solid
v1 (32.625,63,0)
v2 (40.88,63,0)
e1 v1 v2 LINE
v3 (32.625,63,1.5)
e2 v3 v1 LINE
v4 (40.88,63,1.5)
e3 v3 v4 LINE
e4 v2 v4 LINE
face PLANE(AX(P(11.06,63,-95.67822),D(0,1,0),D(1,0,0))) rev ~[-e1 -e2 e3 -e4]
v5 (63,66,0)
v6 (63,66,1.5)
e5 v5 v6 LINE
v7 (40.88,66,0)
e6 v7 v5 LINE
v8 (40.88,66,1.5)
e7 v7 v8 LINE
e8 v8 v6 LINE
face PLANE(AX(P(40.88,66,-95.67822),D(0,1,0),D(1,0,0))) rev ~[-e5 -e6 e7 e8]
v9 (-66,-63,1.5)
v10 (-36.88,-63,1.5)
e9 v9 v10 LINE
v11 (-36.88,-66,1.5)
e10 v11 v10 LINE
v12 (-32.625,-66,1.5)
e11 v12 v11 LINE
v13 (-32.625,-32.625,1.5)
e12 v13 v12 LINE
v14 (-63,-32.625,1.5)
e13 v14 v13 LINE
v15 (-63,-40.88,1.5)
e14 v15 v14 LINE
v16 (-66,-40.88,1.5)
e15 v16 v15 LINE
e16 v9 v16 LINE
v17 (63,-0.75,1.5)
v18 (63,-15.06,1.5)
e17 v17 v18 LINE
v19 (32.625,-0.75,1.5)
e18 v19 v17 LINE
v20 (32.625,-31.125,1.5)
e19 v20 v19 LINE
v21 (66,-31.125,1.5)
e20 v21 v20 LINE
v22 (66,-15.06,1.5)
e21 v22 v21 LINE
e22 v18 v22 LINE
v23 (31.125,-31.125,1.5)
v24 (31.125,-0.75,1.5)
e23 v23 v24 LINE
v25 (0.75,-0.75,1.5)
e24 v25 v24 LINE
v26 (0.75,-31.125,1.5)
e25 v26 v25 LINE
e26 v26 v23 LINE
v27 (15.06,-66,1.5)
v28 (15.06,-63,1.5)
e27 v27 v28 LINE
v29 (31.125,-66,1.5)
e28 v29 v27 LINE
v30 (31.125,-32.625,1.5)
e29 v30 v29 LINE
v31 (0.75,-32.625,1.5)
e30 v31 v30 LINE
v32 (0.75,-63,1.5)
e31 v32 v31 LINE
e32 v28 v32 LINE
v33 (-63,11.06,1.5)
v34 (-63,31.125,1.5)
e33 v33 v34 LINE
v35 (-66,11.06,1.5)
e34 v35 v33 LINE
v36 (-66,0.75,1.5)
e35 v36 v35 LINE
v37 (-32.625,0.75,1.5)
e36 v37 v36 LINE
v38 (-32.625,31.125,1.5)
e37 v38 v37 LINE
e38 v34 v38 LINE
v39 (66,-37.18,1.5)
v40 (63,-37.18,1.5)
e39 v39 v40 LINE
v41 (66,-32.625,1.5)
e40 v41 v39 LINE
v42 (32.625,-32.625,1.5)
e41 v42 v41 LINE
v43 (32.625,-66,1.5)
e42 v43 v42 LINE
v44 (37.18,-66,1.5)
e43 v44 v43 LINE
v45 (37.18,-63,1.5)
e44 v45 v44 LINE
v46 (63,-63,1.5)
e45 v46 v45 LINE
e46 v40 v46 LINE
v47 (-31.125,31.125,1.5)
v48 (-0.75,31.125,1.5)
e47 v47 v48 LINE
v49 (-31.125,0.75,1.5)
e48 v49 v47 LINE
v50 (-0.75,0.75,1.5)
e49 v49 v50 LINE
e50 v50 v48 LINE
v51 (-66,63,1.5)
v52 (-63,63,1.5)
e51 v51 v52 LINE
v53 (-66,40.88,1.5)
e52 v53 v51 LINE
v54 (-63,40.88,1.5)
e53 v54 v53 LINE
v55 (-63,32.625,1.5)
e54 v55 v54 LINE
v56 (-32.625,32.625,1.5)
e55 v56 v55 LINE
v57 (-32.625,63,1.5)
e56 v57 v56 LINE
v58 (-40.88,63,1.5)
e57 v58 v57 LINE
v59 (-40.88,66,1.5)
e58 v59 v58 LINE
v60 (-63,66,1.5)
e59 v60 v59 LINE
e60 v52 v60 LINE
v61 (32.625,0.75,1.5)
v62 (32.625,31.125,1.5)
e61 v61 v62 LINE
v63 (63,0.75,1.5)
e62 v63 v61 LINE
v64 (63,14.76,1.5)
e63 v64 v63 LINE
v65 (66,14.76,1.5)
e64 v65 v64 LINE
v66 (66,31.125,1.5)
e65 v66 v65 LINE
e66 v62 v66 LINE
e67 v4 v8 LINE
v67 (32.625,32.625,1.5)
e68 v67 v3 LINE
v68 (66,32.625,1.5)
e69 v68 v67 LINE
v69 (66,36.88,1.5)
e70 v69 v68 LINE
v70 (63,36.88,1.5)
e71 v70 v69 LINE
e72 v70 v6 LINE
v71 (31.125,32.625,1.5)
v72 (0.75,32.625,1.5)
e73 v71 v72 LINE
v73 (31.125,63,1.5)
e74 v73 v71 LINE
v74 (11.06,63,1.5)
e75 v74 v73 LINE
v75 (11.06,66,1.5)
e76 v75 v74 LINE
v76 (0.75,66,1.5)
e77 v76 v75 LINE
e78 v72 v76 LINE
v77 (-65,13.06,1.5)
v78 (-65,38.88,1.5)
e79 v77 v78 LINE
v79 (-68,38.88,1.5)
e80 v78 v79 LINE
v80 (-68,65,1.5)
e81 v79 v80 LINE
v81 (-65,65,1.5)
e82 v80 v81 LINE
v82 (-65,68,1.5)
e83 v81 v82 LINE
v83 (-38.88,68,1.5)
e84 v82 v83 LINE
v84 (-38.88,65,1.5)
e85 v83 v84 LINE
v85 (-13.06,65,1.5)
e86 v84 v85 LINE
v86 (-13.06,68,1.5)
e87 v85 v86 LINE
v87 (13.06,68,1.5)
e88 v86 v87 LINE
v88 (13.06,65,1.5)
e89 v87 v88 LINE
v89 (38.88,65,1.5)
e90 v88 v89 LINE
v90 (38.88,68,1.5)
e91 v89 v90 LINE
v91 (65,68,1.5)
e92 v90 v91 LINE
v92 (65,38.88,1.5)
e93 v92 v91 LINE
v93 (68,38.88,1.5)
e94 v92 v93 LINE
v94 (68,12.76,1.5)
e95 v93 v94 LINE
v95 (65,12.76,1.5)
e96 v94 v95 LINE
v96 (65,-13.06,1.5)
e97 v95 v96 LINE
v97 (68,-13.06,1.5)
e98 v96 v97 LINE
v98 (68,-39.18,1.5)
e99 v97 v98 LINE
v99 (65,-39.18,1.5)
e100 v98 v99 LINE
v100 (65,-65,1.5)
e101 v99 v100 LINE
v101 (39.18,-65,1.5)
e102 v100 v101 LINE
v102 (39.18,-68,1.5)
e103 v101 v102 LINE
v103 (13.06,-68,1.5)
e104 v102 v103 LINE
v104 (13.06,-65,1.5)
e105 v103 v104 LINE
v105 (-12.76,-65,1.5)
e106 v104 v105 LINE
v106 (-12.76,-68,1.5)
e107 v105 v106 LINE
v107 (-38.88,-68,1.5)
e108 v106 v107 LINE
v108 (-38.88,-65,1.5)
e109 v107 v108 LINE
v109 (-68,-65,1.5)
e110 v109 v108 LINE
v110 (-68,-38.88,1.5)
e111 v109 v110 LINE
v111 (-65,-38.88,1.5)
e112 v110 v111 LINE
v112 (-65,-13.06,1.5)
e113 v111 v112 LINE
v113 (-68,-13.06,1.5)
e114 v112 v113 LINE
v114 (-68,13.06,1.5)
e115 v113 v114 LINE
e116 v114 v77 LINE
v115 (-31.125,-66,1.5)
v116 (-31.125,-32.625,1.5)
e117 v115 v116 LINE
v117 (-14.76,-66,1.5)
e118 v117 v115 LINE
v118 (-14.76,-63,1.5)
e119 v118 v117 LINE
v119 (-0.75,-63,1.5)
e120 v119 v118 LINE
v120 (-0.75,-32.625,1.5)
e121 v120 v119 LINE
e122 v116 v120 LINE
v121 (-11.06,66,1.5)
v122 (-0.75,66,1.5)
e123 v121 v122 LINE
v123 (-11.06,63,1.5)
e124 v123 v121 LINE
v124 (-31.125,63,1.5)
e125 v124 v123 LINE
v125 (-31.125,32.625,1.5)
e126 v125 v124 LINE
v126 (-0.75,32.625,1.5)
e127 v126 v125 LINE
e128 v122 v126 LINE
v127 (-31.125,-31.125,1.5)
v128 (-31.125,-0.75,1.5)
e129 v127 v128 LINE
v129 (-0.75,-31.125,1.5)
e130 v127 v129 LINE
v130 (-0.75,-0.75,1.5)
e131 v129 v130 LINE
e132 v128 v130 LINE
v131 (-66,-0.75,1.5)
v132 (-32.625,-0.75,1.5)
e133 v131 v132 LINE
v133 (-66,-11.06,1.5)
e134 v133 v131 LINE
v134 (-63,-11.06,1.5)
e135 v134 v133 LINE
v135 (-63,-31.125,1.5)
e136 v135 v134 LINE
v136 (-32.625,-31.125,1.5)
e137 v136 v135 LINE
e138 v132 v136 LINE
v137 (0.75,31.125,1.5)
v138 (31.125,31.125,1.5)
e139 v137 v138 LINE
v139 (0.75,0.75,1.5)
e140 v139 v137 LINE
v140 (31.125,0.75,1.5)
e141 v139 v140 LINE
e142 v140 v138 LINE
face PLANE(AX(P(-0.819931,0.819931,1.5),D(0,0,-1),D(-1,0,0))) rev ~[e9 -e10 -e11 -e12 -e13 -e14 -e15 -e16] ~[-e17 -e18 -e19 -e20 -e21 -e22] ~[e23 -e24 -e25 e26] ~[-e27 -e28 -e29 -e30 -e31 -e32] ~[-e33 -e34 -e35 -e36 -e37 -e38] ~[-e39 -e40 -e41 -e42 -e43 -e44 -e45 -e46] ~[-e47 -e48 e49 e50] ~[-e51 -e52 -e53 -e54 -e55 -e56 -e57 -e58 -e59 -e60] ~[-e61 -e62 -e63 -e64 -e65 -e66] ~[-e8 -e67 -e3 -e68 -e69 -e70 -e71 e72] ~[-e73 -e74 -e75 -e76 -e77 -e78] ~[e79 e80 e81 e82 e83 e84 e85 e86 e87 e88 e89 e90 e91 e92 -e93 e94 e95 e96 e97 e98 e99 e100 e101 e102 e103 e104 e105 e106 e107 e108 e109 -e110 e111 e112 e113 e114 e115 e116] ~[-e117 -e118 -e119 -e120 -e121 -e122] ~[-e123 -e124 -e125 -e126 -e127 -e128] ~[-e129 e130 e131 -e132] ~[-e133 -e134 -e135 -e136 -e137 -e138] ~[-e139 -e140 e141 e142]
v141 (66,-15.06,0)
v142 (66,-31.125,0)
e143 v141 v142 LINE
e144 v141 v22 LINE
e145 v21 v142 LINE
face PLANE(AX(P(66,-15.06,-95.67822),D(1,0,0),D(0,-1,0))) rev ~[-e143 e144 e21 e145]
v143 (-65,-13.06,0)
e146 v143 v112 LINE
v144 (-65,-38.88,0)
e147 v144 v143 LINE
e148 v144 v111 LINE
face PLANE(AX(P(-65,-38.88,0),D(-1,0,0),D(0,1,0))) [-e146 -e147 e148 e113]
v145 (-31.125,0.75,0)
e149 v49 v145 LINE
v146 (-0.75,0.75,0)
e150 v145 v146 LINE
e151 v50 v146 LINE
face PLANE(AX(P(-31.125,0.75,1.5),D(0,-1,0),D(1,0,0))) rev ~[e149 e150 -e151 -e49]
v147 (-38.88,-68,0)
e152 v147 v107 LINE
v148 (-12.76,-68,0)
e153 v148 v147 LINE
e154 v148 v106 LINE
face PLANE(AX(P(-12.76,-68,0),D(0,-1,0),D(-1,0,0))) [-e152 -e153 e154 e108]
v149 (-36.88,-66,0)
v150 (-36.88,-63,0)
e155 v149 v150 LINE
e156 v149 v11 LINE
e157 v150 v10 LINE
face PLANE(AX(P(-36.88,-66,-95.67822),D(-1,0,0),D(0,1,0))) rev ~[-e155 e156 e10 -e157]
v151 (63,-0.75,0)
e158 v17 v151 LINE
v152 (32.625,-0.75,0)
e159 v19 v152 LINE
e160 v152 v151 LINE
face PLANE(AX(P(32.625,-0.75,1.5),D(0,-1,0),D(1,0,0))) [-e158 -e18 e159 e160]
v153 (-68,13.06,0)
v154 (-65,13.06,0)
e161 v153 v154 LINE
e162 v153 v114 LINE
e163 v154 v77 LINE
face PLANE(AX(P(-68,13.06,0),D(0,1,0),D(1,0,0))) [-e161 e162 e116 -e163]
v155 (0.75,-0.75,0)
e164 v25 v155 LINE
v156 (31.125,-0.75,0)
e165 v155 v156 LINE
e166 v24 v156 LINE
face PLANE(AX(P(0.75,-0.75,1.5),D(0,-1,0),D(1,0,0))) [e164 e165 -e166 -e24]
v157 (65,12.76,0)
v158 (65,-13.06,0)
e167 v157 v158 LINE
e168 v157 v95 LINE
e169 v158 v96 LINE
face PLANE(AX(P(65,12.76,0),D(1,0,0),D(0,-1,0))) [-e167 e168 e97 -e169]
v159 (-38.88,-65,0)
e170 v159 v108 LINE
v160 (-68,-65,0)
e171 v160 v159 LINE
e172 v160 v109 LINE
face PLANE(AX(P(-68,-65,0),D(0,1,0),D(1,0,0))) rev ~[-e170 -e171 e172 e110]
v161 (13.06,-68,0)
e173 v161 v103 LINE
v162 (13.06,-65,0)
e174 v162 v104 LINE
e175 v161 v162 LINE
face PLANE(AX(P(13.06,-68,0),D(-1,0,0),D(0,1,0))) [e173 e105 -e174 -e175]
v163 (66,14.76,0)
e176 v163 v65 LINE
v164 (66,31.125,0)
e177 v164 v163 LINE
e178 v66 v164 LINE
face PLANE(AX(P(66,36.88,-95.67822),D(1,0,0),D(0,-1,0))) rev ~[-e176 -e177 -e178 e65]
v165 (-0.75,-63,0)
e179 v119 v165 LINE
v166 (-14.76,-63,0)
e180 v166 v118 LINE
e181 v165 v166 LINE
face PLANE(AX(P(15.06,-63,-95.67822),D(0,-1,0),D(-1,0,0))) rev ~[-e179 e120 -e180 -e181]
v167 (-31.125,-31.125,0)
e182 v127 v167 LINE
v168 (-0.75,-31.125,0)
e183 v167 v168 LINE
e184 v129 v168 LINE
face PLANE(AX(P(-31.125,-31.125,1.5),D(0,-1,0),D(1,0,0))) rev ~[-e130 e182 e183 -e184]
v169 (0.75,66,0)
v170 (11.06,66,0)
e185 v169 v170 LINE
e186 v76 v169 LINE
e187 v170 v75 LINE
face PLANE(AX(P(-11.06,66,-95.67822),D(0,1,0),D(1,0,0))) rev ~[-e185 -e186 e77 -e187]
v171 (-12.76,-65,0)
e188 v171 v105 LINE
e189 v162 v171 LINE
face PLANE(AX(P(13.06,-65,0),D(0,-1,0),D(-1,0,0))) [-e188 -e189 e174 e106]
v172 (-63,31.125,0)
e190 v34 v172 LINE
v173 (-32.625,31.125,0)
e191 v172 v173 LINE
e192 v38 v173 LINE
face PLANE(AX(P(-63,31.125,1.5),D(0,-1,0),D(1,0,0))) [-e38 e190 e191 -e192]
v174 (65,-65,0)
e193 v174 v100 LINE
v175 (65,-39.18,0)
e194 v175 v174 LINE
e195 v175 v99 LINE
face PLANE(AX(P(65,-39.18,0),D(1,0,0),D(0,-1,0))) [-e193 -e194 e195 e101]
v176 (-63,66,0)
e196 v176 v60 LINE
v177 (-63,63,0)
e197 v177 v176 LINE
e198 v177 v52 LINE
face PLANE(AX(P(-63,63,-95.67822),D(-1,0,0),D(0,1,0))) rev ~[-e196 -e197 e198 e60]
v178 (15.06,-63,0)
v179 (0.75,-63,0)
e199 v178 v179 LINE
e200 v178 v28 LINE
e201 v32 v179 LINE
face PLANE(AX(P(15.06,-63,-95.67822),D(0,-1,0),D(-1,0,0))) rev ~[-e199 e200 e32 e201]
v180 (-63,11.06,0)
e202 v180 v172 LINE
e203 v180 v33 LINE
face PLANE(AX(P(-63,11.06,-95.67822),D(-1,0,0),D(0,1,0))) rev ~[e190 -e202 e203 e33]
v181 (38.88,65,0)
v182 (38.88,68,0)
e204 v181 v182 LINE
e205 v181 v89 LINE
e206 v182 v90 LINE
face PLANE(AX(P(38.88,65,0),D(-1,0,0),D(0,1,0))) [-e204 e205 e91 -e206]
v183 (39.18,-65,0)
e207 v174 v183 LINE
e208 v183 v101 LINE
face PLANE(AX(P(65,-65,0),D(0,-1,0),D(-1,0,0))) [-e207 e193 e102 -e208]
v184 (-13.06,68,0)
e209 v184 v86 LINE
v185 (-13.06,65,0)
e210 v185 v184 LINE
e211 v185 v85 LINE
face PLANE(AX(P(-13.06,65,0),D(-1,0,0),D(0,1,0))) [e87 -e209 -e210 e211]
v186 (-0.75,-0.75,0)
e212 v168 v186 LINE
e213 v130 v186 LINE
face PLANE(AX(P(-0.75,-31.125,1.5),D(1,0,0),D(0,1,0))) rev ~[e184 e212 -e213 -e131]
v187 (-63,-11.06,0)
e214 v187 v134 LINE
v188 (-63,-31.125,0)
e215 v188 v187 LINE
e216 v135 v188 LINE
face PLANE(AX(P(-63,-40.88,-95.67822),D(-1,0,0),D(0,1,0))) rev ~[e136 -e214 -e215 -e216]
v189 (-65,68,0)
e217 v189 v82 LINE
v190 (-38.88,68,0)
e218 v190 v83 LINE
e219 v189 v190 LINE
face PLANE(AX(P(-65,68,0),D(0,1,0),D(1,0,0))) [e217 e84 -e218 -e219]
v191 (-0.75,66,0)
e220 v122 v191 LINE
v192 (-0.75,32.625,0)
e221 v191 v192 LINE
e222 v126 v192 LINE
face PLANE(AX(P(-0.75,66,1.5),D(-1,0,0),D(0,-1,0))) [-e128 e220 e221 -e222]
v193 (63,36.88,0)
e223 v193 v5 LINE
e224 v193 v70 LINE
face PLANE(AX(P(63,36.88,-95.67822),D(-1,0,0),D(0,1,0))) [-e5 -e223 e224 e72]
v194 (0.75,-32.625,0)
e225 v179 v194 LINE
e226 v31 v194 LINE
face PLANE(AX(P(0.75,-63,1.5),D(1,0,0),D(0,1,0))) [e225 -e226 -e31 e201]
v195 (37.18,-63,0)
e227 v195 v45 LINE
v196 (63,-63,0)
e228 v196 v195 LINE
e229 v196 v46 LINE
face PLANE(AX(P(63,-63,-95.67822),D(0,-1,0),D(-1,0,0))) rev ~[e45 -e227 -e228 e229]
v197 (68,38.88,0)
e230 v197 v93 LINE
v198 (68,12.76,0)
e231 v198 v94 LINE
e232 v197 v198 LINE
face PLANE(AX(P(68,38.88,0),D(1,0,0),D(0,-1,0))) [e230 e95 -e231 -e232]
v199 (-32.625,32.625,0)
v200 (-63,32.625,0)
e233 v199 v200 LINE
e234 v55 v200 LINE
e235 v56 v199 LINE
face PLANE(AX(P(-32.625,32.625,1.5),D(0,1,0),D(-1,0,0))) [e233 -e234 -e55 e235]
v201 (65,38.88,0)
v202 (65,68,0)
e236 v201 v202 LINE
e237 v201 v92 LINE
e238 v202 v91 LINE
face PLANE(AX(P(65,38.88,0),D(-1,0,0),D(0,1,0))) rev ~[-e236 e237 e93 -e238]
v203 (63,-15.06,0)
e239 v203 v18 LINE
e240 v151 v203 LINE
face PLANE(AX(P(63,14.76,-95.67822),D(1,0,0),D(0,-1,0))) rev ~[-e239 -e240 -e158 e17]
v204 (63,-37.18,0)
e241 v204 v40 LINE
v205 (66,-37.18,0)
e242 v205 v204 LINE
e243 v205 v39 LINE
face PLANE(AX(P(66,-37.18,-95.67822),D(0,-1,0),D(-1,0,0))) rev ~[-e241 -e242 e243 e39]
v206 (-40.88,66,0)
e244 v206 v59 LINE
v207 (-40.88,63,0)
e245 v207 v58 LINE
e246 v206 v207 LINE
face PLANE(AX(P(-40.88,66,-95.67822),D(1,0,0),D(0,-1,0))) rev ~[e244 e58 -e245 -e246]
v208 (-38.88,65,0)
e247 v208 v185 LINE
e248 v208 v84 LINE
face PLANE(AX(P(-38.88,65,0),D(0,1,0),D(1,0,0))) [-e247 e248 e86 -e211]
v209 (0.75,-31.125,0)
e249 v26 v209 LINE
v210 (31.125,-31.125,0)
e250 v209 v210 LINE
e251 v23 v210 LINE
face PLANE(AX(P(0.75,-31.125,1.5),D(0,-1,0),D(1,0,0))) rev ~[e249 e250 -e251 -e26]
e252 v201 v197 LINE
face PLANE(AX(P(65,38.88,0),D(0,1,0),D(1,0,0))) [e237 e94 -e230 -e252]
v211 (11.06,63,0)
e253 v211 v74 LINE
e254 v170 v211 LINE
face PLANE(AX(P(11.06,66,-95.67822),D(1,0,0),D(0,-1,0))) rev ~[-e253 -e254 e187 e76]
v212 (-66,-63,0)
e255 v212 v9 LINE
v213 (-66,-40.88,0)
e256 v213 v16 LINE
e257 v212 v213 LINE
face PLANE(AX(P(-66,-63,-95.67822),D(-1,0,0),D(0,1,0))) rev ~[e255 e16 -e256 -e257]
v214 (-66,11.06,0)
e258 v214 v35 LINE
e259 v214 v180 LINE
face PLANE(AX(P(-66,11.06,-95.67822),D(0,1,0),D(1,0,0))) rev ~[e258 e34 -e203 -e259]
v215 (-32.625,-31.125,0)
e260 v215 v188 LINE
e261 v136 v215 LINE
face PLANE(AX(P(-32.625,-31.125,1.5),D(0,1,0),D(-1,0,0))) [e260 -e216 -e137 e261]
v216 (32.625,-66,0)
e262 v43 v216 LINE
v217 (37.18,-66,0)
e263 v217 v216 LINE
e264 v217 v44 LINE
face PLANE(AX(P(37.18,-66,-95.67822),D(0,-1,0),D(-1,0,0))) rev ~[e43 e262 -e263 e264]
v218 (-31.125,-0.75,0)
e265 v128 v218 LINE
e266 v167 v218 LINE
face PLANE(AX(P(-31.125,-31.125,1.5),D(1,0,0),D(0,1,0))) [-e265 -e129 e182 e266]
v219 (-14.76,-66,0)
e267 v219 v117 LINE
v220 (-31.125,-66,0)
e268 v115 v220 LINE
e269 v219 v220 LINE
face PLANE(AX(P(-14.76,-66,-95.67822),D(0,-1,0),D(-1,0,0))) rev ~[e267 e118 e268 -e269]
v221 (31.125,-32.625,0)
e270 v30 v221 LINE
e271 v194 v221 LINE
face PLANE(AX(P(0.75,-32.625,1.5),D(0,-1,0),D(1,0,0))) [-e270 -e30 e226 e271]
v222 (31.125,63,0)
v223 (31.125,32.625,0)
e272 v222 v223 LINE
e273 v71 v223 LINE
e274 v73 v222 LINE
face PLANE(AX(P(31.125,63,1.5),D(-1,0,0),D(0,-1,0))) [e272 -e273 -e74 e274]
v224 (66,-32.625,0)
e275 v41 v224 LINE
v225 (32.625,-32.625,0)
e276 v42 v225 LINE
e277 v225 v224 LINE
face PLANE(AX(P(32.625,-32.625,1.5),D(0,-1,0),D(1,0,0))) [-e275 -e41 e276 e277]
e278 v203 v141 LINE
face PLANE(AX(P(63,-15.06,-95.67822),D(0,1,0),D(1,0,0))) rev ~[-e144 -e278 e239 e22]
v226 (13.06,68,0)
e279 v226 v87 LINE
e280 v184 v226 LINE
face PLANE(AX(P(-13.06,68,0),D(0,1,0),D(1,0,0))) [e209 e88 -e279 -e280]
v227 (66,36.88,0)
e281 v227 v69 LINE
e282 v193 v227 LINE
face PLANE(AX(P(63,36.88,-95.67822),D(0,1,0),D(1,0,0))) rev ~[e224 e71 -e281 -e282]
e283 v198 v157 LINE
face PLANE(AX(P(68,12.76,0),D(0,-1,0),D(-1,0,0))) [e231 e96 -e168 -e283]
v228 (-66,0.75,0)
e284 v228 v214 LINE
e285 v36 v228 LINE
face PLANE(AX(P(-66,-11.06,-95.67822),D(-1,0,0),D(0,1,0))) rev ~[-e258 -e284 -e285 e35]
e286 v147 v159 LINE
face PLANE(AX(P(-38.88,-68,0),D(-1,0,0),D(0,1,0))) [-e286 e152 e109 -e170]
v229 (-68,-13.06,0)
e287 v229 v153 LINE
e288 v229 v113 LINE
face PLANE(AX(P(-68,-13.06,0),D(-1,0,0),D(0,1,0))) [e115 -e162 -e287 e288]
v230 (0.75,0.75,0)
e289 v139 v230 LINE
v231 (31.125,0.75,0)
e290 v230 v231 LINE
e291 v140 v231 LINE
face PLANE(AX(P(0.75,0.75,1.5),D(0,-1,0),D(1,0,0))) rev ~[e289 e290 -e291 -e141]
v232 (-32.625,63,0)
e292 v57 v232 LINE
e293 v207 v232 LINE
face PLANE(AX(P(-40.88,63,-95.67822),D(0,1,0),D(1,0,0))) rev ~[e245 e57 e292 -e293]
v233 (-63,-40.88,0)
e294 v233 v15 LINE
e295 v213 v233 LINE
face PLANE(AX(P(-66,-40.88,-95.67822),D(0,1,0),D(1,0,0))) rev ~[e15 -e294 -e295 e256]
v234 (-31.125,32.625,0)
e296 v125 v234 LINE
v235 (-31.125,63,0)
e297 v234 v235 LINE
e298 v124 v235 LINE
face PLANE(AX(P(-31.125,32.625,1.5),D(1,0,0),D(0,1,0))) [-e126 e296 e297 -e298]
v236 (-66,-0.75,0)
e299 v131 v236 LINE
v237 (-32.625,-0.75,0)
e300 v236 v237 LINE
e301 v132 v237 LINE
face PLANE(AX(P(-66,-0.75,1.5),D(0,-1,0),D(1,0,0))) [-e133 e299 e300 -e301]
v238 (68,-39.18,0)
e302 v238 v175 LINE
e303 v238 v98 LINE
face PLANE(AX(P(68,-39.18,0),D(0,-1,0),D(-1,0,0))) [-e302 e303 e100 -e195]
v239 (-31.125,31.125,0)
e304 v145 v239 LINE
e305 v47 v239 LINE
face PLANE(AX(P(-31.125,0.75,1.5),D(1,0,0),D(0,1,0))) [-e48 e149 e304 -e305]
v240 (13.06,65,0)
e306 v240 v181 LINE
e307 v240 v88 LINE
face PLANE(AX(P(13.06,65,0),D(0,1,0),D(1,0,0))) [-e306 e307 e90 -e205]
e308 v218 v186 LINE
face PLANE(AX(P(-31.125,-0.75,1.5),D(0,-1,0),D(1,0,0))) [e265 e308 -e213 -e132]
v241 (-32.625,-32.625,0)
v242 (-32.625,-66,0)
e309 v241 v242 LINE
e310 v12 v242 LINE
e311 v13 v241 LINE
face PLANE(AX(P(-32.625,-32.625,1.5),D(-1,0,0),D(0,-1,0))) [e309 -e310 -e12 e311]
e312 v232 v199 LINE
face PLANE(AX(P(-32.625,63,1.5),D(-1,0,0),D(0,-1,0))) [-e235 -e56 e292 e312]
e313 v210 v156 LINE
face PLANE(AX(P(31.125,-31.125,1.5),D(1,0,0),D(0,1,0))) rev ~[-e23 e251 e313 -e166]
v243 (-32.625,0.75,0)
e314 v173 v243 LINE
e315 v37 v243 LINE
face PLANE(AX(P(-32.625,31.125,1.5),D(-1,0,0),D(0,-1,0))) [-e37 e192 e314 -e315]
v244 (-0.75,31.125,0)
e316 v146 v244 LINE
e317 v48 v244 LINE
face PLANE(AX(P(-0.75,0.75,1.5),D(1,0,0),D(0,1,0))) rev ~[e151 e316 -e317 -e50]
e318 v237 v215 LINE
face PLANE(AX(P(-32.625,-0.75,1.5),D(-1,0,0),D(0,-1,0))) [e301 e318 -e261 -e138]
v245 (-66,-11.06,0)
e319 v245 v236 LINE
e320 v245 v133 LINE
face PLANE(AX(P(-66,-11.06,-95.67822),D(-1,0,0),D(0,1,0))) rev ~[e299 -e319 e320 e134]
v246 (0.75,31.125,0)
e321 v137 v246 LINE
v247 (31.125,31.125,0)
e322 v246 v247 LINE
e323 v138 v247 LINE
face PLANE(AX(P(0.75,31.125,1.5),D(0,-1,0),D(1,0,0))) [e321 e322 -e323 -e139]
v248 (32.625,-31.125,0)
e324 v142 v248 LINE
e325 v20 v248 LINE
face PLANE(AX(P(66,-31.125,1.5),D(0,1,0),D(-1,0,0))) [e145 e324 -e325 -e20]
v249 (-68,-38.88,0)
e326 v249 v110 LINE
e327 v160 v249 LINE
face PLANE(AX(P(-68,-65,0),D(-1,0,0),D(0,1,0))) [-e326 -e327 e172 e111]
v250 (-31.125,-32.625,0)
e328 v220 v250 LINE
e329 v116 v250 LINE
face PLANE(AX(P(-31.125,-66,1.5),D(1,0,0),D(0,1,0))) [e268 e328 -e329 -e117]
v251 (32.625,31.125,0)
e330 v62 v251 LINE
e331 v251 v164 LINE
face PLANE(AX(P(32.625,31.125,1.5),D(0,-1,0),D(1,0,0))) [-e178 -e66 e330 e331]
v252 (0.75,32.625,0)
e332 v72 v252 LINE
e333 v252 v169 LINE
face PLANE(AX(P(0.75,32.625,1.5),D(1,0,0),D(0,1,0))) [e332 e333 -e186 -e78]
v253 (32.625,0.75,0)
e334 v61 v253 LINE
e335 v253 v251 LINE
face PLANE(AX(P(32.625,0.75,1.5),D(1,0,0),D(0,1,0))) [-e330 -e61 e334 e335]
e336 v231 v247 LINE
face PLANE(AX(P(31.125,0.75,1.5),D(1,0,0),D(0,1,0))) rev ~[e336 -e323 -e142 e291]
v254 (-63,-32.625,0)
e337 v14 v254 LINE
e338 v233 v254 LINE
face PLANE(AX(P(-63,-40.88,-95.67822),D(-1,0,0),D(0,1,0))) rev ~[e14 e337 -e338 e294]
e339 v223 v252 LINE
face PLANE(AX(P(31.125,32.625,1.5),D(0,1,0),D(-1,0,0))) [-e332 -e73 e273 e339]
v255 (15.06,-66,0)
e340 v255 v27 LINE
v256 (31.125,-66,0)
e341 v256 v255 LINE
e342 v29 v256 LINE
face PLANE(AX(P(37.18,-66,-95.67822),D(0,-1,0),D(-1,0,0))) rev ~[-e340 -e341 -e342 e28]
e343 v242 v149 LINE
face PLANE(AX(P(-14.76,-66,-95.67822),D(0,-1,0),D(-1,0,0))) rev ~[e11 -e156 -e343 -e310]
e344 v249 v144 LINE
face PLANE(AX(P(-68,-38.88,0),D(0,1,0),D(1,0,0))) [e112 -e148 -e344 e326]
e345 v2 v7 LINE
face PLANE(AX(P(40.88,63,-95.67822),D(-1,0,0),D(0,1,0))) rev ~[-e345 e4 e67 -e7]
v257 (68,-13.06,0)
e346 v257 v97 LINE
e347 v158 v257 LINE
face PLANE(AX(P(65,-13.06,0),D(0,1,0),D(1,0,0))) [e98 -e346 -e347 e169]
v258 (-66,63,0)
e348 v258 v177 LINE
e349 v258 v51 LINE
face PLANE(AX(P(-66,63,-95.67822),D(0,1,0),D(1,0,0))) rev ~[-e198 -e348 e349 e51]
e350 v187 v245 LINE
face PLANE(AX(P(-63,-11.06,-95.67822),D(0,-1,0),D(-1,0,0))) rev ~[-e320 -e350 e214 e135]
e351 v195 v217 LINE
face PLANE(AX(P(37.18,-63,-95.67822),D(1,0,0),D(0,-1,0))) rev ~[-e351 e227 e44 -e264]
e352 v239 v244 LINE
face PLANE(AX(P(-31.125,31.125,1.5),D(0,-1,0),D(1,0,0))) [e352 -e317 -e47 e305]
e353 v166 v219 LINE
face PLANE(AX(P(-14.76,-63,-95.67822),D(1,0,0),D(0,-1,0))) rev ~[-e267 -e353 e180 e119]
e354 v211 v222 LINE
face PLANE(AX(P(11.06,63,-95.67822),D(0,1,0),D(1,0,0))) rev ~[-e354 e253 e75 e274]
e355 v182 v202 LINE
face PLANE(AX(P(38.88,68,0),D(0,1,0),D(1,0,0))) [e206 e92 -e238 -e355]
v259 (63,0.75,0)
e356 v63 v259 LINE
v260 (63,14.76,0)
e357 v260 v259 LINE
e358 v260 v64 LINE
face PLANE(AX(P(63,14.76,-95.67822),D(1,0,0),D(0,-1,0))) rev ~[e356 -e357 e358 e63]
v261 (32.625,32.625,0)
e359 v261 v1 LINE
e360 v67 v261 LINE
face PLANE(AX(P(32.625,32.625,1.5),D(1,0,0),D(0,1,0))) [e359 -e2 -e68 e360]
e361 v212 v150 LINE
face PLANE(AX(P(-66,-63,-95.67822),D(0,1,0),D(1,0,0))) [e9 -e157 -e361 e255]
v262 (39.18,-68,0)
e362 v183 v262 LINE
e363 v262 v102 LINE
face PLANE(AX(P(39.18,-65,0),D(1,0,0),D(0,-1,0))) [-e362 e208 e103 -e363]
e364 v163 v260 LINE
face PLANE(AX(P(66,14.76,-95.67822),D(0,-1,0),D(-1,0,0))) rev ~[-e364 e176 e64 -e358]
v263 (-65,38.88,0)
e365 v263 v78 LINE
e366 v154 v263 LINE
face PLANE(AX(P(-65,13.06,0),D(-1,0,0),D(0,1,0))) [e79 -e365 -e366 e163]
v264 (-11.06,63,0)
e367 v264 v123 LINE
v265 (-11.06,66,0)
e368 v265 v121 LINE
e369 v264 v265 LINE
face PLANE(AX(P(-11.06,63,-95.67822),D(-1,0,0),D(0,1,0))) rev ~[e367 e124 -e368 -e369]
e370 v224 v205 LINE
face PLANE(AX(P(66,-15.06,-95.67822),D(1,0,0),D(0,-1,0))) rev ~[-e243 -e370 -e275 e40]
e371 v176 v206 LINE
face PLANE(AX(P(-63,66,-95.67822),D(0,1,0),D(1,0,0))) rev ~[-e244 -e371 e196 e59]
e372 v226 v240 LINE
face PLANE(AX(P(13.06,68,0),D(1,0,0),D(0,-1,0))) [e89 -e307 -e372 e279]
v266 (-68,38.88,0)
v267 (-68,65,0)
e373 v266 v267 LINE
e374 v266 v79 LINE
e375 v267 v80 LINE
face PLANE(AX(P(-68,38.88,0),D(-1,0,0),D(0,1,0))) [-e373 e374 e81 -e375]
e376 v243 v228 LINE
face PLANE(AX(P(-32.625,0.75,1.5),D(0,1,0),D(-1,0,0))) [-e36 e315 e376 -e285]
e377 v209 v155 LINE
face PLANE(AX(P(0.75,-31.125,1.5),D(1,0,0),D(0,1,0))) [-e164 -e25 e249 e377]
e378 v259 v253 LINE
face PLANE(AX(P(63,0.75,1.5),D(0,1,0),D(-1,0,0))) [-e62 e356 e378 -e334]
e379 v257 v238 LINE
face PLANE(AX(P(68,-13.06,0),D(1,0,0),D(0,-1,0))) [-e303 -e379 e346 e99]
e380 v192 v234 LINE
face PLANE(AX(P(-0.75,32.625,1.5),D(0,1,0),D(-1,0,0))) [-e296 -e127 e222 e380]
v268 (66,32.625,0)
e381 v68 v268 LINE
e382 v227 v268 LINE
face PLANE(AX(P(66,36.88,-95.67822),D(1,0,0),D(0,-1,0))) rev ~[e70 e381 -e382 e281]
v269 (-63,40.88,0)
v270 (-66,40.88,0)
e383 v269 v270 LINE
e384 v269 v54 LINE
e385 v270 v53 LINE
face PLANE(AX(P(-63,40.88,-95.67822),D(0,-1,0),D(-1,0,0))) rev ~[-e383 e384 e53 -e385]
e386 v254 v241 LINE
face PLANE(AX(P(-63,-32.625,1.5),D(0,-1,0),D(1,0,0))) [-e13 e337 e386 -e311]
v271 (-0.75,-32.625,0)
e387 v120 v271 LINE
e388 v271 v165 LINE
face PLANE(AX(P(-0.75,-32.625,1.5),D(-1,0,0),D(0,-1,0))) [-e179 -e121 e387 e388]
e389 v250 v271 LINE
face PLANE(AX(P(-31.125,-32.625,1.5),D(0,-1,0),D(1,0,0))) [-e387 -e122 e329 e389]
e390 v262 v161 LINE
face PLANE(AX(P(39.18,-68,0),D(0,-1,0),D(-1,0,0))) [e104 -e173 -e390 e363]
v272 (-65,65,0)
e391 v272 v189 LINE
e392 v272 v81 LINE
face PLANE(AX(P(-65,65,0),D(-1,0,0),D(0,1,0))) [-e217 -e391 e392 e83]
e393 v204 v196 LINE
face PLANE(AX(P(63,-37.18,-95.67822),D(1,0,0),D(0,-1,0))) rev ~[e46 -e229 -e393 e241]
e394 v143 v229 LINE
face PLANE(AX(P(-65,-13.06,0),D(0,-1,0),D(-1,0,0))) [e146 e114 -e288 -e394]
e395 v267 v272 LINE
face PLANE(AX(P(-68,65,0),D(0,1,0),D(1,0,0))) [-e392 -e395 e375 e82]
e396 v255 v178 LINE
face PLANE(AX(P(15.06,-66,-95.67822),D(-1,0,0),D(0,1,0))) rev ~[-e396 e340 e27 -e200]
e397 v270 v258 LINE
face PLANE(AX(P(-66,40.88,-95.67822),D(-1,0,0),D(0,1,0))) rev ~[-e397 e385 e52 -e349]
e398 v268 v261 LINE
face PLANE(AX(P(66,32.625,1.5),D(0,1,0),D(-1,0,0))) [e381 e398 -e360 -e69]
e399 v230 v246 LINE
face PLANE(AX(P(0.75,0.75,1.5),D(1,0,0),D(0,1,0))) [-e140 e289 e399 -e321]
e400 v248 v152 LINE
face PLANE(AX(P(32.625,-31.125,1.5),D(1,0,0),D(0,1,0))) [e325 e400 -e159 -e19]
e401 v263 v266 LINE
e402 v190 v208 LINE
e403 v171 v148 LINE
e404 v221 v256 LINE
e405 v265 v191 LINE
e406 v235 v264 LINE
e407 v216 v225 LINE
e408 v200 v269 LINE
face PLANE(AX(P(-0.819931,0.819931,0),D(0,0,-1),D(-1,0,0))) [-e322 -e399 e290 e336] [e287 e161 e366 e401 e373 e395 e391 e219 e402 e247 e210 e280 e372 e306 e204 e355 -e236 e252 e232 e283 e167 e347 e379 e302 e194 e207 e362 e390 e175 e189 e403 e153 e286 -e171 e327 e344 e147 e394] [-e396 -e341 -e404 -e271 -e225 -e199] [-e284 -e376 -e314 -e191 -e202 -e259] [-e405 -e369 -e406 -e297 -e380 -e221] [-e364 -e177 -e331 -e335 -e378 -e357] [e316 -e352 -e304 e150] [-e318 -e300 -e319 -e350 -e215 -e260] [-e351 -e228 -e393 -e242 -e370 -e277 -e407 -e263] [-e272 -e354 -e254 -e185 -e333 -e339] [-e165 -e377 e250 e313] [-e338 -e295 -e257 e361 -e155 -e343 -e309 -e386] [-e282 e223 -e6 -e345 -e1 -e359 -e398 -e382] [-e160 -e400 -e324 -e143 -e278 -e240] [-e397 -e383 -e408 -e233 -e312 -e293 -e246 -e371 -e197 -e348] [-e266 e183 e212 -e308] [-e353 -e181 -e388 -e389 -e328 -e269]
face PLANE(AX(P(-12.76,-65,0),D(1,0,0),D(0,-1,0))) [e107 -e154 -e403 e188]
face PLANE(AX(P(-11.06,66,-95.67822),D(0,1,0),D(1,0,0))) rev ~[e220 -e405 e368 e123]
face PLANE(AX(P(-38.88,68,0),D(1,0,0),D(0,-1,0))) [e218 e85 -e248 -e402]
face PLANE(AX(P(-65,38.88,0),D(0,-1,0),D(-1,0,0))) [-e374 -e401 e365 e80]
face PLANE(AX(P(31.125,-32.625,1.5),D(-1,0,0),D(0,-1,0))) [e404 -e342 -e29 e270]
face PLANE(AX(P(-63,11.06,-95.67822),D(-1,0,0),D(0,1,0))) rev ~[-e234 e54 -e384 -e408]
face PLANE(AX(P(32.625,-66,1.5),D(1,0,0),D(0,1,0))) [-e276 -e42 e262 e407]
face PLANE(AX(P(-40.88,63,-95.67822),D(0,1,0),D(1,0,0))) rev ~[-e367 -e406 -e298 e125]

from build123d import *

# Parameters (mm, degrees)
BOSS_EXTRUDE1_DEPTH     = 1.5
CUT_EXTRUDE1_DEPTH      = 97.178219988
CUT_EXTRUDE1_DEPTH_BACK = 97.178219988
SKETCH3_W               = 30.375
SKETCH3_H               = 30.375
BOSS_EXTRUDE2_DEPTH     = 1.5


with BuildPart() as part:
    # Sketch1 → Boss-Extrude1 (new body)
    with BuildSketch(Plane.XY):
        Polygon((65, 38.88), (68, 38.88), (68, 12.76), (65, 12.76), (65, -13.06), (68, -13.06), (68, -39.18), (65, -39.18), (65, -65), (39.18, -65), (39.18, -68), (13.06, -68), (13.06, -65), (-12.76, -65), (-12.76, -68), (-38.88, -68), (-38.88, -65), (-64.7, -65), (-68, -65), (-68, -38.88), (-65, -38.88), (-65, -13.06), (-68, -13.06), (-68, 13.06), (-65, 13.06), (-65, 38.88), (-68, 38.88), (-68, 65), (-65, 65), (-65, 68), (-38.88, 68), (-38.88, 65), (-13.06, 65), (-13.06, 68), (13.06, 68), (13.06, 65), (38.88, 65), (38.88, 68), (65, 68), (65, 64.7), align=None)
    extrude(amount=BOSS_EXTRUDE1_DEPTH)

    # Sketch2 → Cut-Extrude1 (cut, two sides: drawn at the far end of the back side and taken through both)
    with BuildSketch(Plane.XY.offset(1.5).offset(-CUT_EXTRUDE1_DEPTH_BACK)):
        Polygon((63, -63), (37.18, -63), (37.18, -66), (15.06, -66), (15.06, -63), (-14.76, -63), (-14.76, -66), (-36.88, -66), (-36.88, -63), (-63, -63), (-66, -63), (-66, -40.88), (-63, -40.88), (-63, -11.06), (-66, -11.06), (-66, 11.06), (-63, 11.06), (-63, 40.88), (-66, 40.88), (-66, 63), (-63, 63), (-63, 66), (-40.88, 66), (-40.88, 63), (-11.06, 63), (-11.06, 66), (11.06, 66), (11.06, 63), (40.88, 63), (40.88, 66), (63, 66), (63, 63), (63, 36.88), (66, 36.88), (66, 14.76), (63, 14.76), (63, -15.06), (66, -15.06), (66, -37.18), (63, -37.18), align=None)
    extrude(amount=CUT_EXTRUDE1_DEPTH + CUT_EXTRUDE1_DEPTH_BACK, mode=Mode.SUBTRACT)

    # Sketch3 → Boss-Extrude2 (add, through all)
    with BuildSketch(Plane.XY.offset(1.5)):
        Polygon((0.75, -32.625), (31.125, -32.625), (31.125, -66), (32.625, -66), (32.625, -32.625), (66, -32.625), (66, -31.125), (32.625, -31.125), (32.625, -0.75), (63, -0.75), (63, 0.75), (32.625, 0.75), (32.625, 31.125), (66, 31.125), (66, 32.625), (32.625, 32.625), (32.625, 63), (31.125, 63), (31.125, 32.625), (0.75, 32.625), (0.75, 66), (-0.75, 66), (-0.75, 32.625), (-31.125, 32.625), (-31.125, 63), (-32.625, 63), (-32.625, 32.625), (-63, 32.625), (-63, 31.125), (-32.625, 31.125), (-32.625, 0.75), (-66, 0.75), (-66, -0.75), (-32.625, -0.75), (-32.625, -31.125), (-63, -31.125), (-63, -32.625), (-32.625, -32.625), (-32.625, -66), (-31.125, -66), (-31.125, -32.625), (-0.75, -32.625), (-0.75, -63), (0.75, -63), align=None)
        with Locations((-15.9375, -15.9375)):
            Rectangle(SKETCH3_W, SKETCH3_H, mode=Mode.SUBTRACT)
        with Locations((15.9375, -15.9375)):
            Rectangle(SKETCH3_W, SKETCH3_H, mode=Mode.SUBTRACT)
        with Locations((-15.9375, 15.9375)):
            Rectangle(SKETCH3_W, SKETCH3_H, mode=Mode.SUBTRACT)
        with Locations((15.9375, 15.9375)):
            Rectangle(SKETCH3_W, SKETCH3_H, mode=Mode.SUBTRACT)
    extrude(amount=-BOSS_EXTRUDE2_DEPTH)


solid = part.part
